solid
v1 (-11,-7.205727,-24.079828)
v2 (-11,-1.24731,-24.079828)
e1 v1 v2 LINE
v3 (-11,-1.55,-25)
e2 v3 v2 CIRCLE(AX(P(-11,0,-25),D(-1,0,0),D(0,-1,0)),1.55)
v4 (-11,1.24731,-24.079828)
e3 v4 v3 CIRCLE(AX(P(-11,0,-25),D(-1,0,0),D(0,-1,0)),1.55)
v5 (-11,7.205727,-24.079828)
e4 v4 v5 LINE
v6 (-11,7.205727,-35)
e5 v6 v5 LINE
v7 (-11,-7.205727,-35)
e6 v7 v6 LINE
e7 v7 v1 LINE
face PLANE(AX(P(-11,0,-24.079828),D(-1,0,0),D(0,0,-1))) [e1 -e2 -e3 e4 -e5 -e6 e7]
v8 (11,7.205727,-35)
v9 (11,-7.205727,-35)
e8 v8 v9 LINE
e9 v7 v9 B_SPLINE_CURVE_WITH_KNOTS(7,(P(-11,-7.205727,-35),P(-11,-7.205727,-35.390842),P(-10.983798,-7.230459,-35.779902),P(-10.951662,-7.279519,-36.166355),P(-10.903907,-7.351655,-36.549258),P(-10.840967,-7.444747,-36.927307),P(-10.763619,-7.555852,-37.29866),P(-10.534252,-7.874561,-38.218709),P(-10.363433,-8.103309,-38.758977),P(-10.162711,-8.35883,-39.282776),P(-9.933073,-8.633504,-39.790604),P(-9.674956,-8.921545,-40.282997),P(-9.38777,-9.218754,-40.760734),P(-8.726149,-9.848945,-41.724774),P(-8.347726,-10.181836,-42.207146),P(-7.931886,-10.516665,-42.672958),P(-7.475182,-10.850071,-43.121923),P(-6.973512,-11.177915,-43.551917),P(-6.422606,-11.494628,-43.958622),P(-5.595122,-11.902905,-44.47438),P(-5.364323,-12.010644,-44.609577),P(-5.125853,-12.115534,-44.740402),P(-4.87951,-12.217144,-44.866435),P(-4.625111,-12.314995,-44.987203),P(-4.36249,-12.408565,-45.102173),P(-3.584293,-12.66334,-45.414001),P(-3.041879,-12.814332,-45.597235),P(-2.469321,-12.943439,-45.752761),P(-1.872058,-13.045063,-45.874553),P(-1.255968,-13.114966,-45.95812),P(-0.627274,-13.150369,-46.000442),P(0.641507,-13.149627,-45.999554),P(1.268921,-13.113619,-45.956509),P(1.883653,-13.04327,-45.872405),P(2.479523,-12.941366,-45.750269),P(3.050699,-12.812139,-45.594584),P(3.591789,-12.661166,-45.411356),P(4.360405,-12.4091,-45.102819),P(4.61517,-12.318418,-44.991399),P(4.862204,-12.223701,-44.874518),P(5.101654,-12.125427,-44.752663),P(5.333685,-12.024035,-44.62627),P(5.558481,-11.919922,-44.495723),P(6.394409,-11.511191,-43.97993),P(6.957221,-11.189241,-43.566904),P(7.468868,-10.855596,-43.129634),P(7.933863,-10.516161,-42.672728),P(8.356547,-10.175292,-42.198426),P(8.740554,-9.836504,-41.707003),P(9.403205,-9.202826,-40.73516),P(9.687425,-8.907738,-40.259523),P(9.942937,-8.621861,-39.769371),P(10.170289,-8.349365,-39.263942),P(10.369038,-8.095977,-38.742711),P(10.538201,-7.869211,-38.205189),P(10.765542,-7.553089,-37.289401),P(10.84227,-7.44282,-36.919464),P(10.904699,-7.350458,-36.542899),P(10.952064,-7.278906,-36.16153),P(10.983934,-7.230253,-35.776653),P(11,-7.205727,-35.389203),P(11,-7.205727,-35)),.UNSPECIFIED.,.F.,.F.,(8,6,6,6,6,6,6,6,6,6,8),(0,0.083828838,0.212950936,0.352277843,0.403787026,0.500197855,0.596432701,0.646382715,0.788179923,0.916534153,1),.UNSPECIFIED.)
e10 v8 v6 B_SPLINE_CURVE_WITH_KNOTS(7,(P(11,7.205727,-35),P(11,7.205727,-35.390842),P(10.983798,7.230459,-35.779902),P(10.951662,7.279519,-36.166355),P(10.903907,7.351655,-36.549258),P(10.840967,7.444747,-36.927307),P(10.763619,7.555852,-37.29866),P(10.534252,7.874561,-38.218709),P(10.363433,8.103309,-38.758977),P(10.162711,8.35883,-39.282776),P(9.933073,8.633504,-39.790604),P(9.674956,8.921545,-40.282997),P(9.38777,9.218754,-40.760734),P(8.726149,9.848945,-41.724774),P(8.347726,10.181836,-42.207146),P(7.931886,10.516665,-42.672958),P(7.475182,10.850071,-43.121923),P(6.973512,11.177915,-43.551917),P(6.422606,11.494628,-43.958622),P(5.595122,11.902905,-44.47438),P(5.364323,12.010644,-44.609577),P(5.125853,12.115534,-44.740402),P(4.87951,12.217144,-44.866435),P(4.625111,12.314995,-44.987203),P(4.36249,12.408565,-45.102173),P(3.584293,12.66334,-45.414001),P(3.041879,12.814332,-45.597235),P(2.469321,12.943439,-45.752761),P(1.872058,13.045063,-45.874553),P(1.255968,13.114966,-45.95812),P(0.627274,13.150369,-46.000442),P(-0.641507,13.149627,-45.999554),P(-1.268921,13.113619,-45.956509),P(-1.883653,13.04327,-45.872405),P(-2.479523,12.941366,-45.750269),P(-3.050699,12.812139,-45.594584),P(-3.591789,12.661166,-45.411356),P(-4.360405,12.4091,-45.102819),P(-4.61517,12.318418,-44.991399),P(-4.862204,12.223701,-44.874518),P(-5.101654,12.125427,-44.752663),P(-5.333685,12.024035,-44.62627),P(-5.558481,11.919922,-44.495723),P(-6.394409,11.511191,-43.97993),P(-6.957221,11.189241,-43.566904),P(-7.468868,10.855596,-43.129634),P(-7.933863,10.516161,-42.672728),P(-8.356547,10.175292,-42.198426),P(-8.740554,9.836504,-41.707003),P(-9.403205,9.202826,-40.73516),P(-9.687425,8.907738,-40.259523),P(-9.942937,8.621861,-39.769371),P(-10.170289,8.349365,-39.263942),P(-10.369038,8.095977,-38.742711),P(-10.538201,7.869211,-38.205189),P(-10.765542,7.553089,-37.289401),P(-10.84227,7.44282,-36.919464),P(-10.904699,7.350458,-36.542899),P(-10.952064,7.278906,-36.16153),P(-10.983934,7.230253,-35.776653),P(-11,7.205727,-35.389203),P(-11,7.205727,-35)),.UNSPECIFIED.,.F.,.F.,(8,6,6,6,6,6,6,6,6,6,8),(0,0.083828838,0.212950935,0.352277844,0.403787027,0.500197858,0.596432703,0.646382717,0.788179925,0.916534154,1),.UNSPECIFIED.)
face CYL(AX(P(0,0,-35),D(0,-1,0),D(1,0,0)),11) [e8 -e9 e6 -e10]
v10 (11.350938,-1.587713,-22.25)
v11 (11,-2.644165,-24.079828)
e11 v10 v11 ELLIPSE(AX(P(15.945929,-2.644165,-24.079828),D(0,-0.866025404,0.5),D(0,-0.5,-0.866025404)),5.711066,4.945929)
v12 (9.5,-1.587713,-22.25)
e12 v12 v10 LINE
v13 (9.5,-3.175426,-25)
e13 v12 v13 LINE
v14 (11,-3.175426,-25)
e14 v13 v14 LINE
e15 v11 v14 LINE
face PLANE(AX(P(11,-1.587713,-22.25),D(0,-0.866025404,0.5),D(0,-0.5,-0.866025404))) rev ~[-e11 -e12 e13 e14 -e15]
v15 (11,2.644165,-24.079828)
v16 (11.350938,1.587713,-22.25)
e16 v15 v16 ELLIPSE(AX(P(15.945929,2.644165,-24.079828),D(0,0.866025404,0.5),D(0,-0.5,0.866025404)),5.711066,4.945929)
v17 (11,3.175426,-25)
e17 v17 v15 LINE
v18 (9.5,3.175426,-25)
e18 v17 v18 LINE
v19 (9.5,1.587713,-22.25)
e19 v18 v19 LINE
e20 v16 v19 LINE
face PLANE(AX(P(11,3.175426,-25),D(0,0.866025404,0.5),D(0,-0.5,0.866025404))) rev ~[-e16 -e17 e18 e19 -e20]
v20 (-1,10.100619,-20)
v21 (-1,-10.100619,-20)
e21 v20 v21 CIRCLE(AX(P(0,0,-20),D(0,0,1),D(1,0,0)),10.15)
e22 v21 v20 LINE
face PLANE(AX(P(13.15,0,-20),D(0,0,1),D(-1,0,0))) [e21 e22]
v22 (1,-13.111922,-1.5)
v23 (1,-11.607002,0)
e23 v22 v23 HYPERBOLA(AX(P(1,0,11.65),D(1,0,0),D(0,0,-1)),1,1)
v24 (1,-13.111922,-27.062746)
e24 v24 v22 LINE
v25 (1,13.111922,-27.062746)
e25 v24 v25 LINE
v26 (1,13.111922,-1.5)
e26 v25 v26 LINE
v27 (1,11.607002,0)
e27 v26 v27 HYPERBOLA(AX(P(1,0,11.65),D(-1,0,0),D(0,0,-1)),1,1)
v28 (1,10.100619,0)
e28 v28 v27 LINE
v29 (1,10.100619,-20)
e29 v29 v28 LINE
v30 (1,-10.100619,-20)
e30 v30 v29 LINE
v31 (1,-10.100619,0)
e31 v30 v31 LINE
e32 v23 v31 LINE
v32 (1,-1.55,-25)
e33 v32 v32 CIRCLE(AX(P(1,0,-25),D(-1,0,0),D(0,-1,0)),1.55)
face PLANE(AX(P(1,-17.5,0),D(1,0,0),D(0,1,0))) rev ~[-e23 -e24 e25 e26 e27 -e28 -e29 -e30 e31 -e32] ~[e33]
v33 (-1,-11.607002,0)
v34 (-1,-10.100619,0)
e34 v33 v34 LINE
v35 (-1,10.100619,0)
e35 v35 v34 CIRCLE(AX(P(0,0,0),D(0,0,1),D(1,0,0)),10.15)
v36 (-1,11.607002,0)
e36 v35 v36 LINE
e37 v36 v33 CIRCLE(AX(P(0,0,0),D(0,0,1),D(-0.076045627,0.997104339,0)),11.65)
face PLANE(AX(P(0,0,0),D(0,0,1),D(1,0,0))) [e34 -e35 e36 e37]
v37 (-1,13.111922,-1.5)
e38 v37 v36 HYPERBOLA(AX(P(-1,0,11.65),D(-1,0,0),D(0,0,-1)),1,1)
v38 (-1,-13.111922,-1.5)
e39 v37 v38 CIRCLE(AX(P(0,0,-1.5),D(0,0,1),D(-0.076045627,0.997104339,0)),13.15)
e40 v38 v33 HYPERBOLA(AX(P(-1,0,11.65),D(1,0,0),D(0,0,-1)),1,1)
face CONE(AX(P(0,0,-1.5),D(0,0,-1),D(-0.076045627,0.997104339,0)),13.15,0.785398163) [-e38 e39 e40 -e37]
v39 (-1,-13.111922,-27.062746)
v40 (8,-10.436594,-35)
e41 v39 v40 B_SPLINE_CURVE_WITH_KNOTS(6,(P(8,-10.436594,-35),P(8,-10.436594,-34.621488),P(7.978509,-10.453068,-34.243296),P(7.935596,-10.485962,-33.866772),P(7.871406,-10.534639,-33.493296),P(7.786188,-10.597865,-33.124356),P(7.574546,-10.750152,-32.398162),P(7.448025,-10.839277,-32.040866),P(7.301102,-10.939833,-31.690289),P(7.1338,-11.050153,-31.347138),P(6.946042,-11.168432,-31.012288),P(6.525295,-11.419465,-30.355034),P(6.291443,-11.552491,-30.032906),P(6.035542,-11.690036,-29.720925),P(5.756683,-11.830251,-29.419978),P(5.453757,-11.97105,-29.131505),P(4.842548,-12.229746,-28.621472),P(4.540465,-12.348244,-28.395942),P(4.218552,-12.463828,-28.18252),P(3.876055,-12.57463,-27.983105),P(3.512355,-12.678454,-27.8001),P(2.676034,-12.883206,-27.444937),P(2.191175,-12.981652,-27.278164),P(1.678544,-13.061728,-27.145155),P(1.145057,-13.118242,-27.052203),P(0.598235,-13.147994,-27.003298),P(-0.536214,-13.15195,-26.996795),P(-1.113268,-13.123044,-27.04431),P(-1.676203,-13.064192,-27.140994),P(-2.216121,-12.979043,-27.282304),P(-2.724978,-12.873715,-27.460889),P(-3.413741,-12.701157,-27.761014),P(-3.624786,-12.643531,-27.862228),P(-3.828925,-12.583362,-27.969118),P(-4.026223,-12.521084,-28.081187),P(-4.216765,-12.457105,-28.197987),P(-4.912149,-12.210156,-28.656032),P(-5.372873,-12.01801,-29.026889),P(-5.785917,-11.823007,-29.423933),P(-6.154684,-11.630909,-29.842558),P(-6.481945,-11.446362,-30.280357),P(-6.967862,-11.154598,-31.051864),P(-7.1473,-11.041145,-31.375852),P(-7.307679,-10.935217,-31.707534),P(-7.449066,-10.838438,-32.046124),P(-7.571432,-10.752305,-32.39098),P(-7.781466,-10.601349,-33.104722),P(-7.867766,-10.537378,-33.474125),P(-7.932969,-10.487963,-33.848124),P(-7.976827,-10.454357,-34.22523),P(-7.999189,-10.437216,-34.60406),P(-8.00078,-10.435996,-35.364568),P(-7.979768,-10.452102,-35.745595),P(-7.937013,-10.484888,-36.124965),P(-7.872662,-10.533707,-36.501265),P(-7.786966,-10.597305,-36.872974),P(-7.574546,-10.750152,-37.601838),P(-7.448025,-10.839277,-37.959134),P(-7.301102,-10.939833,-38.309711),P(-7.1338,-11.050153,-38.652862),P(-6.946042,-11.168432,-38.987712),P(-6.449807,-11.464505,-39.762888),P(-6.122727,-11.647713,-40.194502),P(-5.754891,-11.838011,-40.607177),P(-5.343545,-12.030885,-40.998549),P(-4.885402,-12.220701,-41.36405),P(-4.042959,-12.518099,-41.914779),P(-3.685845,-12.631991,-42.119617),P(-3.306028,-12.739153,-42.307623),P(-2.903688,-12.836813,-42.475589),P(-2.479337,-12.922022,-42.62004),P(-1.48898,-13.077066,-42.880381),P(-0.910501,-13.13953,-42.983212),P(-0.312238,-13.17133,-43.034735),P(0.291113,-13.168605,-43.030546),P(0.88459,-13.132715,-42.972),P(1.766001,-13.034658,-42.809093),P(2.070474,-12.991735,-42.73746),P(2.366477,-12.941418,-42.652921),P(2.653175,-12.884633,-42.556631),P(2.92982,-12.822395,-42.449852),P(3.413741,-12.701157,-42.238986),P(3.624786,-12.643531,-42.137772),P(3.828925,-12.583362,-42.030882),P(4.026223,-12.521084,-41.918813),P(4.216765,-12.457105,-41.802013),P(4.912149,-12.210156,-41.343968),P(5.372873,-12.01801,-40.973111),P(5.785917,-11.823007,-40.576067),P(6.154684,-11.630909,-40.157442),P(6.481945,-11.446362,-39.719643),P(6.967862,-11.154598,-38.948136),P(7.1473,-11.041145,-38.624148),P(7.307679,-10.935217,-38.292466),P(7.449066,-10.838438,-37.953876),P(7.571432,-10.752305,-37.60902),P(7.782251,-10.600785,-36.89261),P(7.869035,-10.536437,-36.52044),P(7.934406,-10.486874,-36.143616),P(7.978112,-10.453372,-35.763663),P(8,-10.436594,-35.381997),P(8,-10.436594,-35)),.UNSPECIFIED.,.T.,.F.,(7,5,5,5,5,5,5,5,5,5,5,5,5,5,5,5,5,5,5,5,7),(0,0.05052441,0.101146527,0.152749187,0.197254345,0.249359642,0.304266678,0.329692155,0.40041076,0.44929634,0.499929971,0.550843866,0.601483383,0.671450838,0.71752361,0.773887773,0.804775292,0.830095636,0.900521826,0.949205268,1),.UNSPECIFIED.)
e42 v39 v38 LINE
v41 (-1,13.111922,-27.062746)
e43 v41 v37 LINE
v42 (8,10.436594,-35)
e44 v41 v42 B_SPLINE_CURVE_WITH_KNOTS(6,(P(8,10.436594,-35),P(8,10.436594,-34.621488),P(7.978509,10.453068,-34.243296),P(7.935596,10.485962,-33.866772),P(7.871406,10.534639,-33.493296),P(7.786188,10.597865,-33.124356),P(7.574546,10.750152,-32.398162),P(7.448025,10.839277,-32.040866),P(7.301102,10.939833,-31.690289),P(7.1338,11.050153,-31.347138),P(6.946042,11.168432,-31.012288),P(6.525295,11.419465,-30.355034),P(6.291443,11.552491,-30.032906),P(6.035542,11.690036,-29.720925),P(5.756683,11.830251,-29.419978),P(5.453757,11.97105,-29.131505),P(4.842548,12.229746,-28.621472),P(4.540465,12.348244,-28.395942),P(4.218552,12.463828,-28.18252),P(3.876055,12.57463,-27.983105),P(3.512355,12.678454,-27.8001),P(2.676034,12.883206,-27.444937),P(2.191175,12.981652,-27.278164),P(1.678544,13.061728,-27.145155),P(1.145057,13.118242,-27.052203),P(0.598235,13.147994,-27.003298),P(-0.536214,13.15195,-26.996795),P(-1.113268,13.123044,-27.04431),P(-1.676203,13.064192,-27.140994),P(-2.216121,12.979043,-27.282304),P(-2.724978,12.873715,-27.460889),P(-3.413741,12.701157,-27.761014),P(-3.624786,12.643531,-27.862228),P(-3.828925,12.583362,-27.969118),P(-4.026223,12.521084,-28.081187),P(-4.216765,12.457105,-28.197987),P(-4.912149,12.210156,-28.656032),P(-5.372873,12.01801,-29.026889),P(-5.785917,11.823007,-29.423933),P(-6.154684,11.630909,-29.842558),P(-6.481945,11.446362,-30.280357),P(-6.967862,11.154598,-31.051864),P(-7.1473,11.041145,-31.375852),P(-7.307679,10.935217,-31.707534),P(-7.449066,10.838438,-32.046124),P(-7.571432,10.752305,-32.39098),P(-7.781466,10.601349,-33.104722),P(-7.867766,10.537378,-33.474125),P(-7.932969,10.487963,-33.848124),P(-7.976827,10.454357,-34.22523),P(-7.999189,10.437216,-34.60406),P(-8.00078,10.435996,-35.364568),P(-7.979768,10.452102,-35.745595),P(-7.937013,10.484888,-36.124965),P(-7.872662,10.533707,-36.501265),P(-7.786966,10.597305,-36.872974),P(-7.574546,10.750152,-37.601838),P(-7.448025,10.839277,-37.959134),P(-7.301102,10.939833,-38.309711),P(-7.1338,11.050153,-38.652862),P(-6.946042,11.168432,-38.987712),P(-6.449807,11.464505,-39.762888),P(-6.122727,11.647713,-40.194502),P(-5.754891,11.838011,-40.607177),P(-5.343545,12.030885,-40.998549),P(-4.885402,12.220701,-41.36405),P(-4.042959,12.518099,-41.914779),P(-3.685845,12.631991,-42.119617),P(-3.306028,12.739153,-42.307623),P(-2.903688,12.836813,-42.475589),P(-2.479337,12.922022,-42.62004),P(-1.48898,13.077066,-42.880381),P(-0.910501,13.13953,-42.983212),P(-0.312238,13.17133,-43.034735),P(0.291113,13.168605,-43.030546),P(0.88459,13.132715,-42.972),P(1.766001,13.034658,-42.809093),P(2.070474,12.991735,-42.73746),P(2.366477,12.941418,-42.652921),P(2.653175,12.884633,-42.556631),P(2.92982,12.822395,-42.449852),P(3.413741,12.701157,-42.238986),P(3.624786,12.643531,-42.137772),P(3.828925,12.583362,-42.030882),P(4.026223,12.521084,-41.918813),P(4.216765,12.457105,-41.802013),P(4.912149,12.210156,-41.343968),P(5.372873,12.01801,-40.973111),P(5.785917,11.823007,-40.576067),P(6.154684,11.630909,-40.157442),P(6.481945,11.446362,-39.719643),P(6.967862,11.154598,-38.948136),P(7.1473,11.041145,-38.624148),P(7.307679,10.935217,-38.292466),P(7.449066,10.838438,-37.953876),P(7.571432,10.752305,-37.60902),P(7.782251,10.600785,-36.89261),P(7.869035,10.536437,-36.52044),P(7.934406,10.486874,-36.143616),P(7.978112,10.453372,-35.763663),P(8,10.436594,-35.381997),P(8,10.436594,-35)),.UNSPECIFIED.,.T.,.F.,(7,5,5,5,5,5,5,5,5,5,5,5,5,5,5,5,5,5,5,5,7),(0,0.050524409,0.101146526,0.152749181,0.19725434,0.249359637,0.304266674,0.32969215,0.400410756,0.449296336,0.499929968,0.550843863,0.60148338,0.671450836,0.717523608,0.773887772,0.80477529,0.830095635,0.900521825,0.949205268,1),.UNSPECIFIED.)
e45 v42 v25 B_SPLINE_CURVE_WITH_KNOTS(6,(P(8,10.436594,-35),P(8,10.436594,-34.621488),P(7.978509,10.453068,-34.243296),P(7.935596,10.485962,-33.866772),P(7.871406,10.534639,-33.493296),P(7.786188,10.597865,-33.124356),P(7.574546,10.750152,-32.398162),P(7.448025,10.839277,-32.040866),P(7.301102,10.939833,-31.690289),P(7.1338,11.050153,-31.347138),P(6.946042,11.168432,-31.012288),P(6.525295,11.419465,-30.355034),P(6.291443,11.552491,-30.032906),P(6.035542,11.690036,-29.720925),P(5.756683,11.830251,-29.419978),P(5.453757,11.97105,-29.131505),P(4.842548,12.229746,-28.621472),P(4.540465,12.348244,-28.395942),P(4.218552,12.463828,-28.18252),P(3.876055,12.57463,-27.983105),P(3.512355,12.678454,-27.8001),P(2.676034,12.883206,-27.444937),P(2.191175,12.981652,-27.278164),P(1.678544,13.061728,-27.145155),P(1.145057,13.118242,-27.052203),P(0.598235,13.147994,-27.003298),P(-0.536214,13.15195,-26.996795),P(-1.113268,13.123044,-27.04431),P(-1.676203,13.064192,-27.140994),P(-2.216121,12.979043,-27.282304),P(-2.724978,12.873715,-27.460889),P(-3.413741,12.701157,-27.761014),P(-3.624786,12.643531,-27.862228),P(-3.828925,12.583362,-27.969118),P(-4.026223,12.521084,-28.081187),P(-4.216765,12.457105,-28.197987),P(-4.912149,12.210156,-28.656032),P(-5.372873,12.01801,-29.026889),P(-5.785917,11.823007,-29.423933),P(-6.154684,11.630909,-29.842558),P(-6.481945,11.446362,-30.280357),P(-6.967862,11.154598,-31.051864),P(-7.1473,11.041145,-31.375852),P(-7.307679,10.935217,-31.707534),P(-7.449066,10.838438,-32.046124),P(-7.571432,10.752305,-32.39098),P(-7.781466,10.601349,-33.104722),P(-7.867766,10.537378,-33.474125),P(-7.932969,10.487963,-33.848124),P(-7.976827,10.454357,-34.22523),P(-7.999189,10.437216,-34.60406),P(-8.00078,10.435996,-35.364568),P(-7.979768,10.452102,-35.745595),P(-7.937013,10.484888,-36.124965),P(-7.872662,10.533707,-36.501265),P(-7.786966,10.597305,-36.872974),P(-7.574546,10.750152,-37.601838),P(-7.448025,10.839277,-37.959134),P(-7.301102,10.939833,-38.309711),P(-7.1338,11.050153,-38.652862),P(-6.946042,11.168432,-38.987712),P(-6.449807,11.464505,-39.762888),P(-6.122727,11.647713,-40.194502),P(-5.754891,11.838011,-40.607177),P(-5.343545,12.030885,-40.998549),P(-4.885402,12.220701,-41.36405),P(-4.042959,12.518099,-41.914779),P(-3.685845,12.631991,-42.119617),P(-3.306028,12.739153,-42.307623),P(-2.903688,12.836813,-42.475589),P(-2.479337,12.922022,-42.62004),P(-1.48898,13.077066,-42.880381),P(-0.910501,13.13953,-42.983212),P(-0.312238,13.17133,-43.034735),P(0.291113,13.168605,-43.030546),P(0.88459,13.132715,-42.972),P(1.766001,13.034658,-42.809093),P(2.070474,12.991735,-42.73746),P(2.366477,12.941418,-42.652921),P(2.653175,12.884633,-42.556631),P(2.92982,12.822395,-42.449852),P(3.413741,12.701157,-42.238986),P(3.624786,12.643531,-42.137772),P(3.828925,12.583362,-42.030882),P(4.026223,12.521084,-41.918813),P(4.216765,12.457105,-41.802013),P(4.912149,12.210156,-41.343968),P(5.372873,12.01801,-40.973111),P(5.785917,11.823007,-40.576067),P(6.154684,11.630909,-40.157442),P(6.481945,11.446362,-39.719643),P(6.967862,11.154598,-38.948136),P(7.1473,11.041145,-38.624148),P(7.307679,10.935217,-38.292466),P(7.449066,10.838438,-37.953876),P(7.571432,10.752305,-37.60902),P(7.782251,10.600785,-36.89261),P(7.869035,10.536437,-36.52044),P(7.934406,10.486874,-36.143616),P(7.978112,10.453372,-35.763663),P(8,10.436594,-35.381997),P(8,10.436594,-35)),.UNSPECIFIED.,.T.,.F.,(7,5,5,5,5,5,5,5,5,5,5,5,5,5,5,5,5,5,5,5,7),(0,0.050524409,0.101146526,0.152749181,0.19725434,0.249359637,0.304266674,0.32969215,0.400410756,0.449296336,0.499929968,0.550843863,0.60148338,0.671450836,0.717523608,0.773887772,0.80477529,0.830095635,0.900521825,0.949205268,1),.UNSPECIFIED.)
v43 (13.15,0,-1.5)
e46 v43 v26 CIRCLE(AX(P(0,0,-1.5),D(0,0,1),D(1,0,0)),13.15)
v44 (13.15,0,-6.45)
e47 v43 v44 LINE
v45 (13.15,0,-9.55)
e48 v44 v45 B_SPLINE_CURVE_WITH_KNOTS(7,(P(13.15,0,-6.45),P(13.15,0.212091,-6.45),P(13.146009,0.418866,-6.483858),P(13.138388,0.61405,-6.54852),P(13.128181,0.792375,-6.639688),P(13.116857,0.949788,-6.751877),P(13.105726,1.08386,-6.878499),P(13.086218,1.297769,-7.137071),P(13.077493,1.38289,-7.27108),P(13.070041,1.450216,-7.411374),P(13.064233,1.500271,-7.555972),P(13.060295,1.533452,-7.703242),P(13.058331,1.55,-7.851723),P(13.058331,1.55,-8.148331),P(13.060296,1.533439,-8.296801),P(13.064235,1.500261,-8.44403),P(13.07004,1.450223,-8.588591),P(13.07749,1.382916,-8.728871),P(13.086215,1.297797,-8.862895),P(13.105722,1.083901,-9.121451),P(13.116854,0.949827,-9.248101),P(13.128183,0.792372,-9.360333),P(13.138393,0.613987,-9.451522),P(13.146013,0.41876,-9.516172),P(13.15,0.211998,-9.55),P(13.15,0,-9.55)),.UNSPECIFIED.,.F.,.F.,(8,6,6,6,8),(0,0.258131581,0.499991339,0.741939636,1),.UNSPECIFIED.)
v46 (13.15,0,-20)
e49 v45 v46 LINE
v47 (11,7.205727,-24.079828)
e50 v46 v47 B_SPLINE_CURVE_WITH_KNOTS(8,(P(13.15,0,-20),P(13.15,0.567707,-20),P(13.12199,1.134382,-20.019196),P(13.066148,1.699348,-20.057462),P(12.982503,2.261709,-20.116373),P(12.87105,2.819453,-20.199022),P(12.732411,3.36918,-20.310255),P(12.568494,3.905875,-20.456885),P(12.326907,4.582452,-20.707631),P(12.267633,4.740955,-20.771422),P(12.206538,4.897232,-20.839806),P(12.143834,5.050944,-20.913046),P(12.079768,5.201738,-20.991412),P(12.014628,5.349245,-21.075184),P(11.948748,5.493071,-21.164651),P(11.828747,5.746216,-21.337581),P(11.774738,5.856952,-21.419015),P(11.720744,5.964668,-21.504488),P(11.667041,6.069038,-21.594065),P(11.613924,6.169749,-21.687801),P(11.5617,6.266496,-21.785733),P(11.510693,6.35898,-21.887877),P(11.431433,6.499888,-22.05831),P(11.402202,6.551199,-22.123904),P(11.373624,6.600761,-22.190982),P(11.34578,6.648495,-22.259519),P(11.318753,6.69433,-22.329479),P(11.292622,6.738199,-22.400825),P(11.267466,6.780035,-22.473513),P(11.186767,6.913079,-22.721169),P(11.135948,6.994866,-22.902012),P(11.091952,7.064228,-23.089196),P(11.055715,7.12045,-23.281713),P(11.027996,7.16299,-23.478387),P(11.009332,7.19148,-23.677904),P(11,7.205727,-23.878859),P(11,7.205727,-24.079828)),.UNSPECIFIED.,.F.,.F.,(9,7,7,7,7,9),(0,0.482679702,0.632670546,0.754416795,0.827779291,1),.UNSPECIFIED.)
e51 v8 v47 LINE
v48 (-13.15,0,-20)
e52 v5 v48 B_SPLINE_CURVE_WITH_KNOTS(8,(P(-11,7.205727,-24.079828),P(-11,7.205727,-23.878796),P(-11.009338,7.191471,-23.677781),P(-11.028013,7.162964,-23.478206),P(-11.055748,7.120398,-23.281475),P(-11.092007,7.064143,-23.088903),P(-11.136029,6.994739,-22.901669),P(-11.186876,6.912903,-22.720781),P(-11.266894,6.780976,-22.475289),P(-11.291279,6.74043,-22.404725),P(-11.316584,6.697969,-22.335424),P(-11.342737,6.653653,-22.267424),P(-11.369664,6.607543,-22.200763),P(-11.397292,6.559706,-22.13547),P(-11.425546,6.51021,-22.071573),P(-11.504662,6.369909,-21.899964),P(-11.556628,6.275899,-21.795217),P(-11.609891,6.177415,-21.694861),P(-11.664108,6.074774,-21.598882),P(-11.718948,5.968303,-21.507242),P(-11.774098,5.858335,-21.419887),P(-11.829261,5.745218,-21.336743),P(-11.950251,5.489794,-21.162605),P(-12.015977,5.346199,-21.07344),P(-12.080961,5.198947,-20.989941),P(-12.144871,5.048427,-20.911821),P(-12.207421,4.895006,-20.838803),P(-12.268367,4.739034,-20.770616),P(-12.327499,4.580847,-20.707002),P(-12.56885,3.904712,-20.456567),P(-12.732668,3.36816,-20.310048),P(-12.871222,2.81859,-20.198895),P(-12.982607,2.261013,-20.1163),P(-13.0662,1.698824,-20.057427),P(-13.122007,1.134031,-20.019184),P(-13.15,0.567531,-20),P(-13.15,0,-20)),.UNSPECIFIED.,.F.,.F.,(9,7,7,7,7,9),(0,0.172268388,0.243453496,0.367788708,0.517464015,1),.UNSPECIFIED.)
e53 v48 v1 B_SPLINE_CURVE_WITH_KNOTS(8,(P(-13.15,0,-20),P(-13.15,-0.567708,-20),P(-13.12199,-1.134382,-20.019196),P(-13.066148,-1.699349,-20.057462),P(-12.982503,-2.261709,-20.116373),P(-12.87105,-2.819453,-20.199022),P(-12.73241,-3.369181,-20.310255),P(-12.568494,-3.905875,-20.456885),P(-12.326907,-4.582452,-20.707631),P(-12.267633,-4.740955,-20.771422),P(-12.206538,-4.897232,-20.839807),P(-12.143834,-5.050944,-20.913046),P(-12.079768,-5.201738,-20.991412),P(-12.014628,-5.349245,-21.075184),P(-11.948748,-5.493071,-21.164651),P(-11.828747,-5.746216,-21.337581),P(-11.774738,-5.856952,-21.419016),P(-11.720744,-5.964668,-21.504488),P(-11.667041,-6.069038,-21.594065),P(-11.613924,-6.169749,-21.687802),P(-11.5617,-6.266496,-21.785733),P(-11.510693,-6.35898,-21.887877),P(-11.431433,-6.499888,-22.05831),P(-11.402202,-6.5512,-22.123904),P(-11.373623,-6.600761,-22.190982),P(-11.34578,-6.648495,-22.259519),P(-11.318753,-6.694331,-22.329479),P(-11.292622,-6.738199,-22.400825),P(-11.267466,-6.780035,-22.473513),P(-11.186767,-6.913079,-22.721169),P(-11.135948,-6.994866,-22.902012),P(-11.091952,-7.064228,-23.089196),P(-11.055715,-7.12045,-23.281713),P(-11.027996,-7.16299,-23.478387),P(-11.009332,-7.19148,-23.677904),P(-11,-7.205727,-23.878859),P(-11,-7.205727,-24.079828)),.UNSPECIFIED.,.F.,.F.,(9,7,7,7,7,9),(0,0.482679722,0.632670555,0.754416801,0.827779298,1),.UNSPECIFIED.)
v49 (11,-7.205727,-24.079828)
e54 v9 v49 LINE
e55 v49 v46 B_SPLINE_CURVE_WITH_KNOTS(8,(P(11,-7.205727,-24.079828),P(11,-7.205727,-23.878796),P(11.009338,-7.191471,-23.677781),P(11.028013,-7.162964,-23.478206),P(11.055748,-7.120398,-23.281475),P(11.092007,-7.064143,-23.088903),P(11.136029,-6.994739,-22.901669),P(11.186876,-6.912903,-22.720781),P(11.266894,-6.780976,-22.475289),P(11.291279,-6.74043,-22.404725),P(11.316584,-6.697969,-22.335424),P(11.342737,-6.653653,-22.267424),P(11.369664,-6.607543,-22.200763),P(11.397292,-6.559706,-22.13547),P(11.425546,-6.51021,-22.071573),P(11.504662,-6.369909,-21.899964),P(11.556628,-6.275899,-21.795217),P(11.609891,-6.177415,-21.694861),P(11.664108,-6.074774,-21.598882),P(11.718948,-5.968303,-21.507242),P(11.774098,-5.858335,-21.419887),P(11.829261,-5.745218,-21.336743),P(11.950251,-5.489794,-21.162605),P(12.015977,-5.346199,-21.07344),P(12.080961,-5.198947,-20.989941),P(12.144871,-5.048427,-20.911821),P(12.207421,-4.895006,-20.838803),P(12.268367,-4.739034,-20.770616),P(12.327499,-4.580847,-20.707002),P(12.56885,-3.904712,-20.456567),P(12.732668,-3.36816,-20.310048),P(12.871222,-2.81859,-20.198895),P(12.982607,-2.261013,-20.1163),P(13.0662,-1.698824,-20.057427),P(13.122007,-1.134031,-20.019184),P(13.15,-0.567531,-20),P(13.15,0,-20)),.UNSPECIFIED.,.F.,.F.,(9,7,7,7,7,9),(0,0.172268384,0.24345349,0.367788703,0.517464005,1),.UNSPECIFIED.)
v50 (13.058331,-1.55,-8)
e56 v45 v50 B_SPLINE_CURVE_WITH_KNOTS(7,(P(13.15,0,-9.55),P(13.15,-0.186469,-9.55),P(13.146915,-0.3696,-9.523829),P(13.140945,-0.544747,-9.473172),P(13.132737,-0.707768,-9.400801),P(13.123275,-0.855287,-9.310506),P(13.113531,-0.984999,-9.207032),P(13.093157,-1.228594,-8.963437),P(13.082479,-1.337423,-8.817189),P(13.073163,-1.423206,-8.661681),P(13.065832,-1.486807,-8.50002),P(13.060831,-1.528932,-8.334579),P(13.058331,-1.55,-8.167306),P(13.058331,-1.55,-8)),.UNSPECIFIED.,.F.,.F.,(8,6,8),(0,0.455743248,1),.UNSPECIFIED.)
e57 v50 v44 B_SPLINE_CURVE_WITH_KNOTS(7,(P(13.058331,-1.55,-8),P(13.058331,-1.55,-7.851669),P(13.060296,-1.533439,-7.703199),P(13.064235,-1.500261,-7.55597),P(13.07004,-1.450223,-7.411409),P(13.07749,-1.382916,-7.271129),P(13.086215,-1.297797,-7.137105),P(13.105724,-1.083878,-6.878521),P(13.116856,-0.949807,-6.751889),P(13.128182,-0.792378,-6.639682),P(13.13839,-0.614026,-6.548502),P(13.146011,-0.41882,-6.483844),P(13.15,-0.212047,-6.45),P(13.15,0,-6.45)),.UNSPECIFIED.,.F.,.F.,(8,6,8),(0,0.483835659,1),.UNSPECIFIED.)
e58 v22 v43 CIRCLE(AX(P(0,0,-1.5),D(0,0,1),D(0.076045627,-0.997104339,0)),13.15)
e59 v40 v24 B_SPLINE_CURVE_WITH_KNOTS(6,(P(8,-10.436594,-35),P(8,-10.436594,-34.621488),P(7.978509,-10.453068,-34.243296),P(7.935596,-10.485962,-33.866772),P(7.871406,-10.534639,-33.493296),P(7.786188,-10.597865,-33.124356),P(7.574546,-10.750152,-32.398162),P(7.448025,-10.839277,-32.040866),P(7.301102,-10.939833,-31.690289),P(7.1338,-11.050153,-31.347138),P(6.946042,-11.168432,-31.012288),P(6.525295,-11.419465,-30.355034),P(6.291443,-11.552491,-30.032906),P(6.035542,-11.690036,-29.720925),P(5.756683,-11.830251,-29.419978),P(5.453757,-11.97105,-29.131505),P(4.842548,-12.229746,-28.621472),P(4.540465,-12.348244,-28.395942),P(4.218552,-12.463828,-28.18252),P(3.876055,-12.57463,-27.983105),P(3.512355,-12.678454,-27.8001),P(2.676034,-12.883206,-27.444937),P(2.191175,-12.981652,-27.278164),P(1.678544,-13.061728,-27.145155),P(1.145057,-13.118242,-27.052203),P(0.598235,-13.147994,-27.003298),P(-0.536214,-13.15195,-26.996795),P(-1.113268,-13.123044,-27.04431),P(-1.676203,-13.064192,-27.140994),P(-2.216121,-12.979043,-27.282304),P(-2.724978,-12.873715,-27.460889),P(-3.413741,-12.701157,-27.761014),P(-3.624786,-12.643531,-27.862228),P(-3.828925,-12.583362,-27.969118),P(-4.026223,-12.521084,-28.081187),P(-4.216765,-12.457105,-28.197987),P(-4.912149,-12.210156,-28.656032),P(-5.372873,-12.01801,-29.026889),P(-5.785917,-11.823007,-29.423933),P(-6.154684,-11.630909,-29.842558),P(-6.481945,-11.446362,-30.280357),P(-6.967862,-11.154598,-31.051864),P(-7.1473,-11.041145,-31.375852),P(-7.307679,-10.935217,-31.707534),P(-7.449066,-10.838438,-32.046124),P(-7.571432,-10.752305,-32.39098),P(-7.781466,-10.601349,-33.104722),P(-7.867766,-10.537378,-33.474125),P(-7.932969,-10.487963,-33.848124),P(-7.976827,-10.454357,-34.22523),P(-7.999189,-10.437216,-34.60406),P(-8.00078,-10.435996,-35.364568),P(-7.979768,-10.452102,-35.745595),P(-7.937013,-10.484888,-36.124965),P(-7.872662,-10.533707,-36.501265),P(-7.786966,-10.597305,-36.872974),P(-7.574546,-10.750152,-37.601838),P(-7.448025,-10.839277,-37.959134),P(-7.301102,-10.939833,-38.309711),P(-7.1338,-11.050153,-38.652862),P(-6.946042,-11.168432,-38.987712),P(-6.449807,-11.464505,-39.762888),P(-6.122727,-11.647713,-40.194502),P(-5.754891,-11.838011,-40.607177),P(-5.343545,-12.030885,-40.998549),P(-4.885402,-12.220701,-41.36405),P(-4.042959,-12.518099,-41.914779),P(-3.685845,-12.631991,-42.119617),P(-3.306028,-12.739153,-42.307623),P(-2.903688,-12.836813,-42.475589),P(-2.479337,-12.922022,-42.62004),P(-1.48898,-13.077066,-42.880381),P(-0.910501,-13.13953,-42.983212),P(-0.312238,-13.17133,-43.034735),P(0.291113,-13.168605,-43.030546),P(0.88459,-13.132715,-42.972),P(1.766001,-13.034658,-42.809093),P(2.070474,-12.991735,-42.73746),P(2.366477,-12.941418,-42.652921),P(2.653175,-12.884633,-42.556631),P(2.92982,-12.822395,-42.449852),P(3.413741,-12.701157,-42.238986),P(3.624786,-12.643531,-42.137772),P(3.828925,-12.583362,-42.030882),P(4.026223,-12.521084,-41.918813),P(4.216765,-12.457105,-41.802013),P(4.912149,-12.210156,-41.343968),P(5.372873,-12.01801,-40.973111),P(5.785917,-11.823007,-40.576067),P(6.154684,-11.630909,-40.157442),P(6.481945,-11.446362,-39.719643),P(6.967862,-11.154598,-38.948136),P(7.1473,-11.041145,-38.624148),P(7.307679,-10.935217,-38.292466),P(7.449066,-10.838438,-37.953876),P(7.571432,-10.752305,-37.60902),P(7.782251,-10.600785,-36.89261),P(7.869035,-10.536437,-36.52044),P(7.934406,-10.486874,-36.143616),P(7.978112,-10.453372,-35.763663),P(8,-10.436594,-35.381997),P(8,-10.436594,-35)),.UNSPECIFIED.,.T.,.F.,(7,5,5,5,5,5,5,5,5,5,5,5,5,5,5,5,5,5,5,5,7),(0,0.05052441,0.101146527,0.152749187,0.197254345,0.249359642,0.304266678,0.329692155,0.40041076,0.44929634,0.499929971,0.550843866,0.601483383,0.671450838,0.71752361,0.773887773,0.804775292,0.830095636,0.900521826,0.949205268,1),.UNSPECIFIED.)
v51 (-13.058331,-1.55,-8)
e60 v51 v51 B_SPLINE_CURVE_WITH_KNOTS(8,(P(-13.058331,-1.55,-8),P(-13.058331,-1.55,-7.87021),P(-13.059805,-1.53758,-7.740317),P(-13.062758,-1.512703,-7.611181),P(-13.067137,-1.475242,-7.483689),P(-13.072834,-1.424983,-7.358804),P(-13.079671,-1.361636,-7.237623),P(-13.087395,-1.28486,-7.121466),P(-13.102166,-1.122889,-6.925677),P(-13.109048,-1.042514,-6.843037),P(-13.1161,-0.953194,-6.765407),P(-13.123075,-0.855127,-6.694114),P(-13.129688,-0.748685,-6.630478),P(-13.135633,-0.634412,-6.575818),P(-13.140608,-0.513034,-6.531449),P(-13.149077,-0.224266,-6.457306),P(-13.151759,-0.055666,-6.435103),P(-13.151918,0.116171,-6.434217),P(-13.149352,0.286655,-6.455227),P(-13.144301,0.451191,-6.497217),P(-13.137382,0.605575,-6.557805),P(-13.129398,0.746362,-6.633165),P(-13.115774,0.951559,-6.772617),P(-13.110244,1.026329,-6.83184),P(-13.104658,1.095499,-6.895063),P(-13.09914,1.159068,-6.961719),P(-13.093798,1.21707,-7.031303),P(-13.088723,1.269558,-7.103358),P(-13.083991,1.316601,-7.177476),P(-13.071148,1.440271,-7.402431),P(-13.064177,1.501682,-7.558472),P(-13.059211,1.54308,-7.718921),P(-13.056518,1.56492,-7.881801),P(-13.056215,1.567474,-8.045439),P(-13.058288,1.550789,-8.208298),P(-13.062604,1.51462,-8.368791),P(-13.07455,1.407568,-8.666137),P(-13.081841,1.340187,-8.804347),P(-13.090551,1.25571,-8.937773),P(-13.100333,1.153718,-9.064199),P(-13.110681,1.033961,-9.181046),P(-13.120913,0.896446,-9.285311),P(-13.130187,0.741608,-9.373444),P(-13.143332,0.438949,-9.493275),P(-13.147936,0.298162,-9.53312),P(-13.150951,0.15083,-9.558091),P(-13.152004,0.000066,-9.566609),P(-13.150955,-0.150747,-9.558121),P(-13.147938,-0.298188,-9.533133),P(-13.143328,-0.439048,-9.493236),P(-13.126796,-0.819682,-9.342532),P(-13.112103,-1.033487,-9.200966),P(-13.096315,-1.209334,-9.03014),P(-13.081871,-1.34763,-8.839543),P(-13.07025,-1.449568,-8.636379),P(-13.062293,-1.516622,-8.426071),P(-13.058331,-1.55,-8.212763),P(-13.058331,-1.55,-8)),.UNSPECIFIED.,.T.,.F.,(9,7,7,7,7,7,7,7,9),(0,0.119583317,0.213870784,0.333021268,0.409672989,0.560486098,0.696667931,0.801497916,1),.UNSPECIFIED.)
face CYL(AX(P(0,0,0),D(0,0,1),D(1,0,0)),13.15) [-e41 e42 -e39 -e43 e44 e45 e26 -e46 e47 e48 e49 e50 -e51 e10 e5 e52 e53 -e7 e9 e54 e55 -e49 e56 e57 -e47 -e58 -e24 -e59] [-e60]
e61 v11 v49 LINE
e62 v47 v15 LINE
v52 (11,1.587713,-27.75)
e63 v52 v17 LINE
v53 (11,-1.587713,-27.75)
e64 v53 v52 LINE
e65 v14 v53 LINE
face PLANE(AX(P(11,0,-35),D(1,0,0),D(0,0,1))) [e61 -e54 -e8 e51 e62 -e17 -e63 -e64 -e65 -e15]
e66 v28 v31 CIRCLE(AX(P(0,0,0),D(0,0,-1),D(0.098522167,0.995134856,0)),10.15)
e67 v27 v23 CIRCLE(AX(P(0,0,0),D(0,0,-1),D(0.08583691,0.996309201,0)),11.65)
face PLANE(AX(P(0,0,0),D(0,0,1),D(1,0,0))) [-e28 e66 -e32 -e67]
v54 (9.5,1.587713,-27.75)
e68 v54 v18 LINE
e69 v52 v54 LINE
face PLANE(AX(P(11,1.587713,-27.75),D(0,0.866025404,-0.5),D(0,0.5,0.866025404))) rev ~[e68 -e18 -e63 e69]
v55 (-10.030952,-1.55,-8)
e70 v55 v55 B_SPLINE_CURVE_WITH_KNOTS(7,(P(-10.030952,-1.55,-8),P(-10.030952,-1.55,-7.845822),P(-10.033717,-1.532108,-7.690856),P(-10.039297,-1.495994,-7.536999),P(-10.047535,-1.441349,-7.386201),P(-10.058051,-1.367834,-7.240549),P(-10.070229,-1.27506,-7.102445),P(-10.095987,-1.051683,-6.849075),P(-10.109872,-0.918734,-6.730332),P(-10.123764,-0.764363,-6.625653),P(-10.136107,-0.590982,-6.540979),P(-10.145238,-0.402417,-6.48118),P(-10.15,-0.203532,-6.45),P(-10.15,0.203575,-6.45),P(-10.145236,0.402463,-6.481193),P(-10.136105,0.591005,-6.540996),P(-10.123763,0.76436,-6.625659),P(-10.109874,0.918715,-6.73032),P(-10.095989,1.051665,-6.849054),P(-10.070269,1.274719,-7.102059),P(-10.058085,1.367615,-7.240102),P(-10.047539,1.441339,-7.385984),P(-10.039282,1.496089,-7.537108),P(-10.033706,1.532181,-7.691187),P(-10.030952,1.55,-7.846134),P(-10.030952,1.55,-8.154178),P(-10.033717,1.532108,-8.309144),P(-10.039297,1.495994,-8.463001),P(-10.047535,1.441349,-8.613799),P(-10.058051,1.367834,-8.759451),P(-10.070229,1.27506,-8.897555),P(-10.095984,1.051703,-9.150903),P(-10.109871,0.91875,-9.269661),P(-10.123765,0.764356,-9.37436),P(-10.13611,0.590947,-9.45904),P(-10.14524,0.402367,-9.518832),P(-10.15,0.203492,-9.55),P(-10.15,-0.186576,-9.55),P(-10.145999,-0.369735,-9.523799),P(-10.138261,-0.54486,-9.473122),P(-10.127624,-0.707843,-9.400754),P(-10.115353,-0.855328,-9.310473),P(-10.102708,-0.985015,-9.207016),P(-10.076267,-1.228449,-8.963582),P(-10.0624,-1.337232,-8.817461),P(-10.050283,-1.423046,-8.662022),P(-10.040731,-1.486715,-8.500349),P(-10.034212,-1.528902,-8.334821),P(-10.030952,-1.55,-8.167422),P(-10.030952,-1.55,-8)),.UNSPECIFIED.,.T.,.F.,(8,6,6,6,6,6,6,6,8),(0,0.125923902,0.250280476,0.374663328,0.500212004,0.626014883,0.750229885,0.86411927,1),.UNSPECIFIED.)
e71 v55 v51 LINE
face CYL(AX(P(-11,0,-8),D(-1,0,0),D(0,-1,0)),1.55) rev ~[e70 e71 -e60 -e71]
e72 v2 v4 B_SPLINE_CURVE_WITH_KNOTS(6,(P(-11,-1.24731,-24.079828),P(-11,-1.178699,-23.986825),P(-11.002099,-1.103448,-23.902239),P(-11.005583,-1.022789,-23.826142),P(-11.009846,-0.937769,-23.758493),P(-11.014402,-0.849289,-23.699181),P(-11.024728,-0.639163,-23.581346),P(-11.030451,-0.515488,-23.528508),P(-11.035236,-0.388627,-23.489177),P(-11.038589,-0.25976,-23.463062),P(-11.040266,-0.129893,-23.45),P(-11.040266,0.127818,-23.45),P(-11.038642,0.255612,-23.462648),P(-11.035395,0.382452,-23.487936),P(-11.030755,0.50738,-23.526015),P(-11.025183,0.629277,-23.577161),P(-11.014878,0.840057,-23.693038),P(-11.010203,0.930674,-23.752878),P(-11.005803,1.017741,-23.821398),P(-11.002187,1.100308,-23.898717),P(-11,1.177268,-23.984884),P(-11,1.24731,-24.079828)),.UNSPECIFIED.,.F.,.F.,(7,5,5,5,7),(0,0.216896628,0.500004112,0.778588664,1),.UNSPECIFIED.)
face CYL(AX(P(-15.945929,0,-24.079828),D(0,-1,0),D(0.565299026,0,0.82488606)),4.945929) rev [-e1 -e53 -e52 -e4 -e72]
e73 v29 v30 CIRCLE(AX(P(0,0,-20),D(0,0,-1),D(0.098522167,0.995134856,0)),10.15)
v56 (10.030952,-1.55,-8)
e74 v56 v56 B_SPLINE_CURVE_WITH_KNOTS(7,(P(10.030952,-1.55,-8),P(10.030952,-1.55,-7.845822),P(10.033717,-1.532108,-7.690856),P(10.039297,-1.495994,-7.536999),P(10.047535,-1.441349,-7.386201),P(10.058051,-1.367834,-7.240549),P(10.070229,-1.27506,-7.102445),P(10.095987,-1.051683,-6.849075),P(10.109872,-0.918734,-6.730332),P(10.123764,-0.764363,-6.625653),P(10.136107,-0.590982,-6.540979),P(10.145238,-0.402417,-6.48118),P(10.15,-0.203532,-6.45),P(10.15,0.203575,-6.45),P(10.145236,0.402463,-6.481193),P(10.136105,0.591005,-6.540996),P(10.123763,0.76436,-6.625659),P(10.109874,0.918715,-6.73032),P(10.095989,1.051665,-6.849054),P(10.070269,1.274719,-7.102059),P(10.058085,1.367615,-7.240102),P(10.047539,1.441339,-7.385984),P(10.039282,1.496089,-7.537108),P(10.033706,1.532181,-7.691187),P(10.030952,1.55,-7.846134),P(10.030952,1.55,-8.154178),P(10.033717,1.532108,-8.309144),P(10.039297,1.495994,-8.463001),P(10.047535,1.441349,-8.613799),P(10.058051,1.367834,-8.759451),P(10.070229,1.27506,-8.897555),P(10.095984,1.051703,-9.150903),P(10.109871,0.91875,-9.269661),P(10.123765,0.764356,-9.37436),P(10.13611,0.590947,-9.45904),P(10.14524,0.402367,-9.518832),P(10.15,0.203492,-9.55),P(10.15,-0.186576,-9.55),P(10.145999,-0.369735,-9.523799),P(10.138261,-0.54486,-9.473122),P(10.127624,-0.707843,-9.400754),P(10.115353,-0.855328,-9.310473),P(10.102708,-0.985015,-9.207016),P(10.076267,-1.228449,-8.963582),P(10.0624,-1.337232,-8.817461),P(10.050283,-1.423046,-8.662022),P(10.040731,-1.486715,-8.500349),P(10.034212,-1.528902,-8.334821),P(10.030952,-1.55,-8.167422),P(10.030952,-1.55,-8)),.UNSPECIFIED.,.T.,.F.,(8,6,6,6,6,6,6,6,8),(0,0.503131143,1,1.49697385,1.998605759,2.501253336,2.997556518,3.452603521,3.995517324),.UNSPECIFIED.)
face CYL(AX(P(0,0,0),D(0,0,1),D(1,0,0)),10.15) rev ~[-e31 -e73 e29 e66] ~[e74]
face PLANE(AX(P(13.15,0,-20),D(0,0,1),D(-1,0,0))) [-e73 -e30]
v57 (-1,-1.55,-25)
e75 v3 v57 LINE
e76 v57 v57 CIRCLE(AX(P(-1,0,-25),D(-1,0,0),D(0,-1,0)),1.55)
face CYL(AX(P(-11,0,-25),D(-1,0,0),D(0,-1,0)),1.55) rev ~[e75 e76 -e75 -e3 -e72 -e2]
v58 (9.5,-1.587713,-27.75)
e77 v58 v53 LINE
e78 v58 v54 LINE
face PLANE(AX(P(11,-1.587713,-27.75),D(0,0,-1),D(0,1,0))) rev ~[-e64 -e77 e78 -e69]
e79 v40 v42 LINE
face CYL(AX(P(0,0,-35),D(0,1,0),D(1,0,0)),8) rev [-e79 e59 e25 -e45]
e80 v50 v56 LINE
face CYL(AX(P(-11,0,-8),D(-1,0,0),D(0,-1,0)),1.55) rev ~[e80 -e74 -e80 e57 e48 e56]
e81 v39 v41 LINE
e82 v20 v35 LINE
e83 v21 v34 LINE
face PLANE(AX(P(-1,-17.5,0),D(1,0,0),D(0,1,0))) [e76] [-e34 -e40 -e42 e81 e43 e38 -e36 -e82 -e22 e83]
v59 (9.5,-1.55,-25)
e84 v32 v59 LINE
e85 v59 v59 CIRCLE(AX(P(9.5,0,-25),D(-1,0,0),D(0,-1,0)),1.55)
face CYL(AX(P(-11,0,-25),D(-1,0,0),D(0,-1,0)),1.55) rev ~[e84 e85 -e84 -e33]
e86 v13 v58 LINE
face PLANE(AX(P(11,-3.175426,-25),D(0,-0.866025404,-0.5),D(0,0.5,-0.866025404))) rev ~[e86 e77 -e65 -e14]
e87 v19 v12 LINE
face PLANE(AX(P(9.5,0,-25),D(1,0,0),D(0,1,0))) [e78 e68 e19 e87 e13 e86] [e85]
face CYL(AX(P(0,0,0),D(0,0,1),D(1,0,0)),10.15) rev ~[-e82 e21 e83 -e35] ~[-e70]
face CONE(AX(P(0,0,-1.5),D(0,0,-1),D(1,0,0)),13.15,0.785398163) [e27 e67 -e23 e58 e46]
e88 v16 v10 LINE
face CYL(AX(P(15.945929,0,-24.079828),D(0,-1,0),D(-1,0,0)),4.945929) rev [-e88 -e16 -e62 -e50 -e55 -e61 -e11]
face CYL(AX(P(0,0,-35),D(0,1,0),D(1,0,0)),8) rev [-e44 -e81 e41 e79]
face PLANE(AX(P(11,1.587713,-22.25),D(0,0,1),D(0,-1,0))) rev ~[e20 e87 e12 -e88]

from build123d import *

# Parameters (mm, degrees)
F0_R      = 13.15
F0_R_2    = 10.15
F1_DEPTH  = 20
F2_R      = 8
F3_DEPTH  = 22.5
F4_R      = 40.4098259217
F4_R_2    = 13.15
F5_DEPTH  = 50
F6_W      = 2
F6_H      = 35
F7_DEPTH  = 31.2572
F8_SIZE   = 1.5
F9_R      = 1.55
F10_DEPTH = 30.51178
F12_DEPTH = 1.5


with BuildPart() as f1:
    # F0 (on Top) → F1 (new body)
    with BuildSketch(Plane.XY):
        Circle(F0_R)
        Circle(F0_R_2, mode=Mode.SUBTRACT)
    extrude(amount=-F1_DEPTH)

    # F2 (on Front) → F3 (join, symmetric)
    with BuildSketch(Plane.XZ):
        with BuildLine():
            ThreePointArc((-11, -35), (0, -46), (11, -35))
            ThreePointArc((11, -35), (0, -24), (-11, -35))
        make_face()
        with Locations((0, -35)):
            Circle(F2_R, mode=Mode.SUBTRACT)
        with BuildLine():
            ThreePointArc((-11, -35), (0, -24), (11, -35))
            Line((11, -35), (11, -24.0798275918))
            ThreePointArc((11, -24.0798275918), (11.5703901789, -21.7739929718), (13.15, -20))
            Line((13.15, -20), (-13.15, -20))
            ThreePointArc((-13.15, -20), (-11.5703901789, -21.7739929718), (-11, -24.0798275918))
            Line((-11, -24.0798275918), (-11, -35))
        make_face()
    extrude(amount=F3_DEPTH, both=True)

    # F4 (on face) → F5 (cut)
    with BuildSketch(Plane.XY):
        Circle(F4_R)
        Circle(F4_R_2, mode=Mode.SUBTRACT)
    extrude(amount=-F5_DEPTH, mode=Mode.SUBTRACT)

    # F6 (on face) → F7 (cut)
    with BuildSketch(Plane.XY):
        Rectangle(F6_W, F6_H)
    extrude(amount=-F7_DEPTH, mode=Mode.SUBTRACT)

    # F8
    f8_edges = [f1.edges().sort_by_distance(p)[0] for p in [
        (-13.15, 0, 0),
        (9.64553, 8.937911, 0),
        (9.64553, -8.937911, 0),
    ]]
    chamfer(f8_edges, length=F8_SIZE)

    # F9 (on face) → F10 (cut, symmetric)
    with BuildSketch(Plane(origin=(-11, 0, 0), x_dir=(0, -1, 0), z_dir=(-1, 0, 0))):
        with Locations((0, -25)):
            Circle(F9_R)
        with Locations((0, -8)):
            Circle(F9_R)
    extrude(amount=F10_DEPTH, both=True, mode=Mode.SUBTRACT)

    # F11 (on face) → F12 (cut, symmetric)
    with BuildSketch(Plane.YZ.offset(11)):
        Polygon((1.5877132403, -22.25), (-1.5877132403, -22.25), (-3.1754264805, -25), (-1.5877132403, -27.75), (1.5877132403, -27.75), (3.1754264805, -25), align=None)
    extrude(amount=F12_DEPTH, both=True, mode=Mode.SUBTRACT)


solid = f1.part
